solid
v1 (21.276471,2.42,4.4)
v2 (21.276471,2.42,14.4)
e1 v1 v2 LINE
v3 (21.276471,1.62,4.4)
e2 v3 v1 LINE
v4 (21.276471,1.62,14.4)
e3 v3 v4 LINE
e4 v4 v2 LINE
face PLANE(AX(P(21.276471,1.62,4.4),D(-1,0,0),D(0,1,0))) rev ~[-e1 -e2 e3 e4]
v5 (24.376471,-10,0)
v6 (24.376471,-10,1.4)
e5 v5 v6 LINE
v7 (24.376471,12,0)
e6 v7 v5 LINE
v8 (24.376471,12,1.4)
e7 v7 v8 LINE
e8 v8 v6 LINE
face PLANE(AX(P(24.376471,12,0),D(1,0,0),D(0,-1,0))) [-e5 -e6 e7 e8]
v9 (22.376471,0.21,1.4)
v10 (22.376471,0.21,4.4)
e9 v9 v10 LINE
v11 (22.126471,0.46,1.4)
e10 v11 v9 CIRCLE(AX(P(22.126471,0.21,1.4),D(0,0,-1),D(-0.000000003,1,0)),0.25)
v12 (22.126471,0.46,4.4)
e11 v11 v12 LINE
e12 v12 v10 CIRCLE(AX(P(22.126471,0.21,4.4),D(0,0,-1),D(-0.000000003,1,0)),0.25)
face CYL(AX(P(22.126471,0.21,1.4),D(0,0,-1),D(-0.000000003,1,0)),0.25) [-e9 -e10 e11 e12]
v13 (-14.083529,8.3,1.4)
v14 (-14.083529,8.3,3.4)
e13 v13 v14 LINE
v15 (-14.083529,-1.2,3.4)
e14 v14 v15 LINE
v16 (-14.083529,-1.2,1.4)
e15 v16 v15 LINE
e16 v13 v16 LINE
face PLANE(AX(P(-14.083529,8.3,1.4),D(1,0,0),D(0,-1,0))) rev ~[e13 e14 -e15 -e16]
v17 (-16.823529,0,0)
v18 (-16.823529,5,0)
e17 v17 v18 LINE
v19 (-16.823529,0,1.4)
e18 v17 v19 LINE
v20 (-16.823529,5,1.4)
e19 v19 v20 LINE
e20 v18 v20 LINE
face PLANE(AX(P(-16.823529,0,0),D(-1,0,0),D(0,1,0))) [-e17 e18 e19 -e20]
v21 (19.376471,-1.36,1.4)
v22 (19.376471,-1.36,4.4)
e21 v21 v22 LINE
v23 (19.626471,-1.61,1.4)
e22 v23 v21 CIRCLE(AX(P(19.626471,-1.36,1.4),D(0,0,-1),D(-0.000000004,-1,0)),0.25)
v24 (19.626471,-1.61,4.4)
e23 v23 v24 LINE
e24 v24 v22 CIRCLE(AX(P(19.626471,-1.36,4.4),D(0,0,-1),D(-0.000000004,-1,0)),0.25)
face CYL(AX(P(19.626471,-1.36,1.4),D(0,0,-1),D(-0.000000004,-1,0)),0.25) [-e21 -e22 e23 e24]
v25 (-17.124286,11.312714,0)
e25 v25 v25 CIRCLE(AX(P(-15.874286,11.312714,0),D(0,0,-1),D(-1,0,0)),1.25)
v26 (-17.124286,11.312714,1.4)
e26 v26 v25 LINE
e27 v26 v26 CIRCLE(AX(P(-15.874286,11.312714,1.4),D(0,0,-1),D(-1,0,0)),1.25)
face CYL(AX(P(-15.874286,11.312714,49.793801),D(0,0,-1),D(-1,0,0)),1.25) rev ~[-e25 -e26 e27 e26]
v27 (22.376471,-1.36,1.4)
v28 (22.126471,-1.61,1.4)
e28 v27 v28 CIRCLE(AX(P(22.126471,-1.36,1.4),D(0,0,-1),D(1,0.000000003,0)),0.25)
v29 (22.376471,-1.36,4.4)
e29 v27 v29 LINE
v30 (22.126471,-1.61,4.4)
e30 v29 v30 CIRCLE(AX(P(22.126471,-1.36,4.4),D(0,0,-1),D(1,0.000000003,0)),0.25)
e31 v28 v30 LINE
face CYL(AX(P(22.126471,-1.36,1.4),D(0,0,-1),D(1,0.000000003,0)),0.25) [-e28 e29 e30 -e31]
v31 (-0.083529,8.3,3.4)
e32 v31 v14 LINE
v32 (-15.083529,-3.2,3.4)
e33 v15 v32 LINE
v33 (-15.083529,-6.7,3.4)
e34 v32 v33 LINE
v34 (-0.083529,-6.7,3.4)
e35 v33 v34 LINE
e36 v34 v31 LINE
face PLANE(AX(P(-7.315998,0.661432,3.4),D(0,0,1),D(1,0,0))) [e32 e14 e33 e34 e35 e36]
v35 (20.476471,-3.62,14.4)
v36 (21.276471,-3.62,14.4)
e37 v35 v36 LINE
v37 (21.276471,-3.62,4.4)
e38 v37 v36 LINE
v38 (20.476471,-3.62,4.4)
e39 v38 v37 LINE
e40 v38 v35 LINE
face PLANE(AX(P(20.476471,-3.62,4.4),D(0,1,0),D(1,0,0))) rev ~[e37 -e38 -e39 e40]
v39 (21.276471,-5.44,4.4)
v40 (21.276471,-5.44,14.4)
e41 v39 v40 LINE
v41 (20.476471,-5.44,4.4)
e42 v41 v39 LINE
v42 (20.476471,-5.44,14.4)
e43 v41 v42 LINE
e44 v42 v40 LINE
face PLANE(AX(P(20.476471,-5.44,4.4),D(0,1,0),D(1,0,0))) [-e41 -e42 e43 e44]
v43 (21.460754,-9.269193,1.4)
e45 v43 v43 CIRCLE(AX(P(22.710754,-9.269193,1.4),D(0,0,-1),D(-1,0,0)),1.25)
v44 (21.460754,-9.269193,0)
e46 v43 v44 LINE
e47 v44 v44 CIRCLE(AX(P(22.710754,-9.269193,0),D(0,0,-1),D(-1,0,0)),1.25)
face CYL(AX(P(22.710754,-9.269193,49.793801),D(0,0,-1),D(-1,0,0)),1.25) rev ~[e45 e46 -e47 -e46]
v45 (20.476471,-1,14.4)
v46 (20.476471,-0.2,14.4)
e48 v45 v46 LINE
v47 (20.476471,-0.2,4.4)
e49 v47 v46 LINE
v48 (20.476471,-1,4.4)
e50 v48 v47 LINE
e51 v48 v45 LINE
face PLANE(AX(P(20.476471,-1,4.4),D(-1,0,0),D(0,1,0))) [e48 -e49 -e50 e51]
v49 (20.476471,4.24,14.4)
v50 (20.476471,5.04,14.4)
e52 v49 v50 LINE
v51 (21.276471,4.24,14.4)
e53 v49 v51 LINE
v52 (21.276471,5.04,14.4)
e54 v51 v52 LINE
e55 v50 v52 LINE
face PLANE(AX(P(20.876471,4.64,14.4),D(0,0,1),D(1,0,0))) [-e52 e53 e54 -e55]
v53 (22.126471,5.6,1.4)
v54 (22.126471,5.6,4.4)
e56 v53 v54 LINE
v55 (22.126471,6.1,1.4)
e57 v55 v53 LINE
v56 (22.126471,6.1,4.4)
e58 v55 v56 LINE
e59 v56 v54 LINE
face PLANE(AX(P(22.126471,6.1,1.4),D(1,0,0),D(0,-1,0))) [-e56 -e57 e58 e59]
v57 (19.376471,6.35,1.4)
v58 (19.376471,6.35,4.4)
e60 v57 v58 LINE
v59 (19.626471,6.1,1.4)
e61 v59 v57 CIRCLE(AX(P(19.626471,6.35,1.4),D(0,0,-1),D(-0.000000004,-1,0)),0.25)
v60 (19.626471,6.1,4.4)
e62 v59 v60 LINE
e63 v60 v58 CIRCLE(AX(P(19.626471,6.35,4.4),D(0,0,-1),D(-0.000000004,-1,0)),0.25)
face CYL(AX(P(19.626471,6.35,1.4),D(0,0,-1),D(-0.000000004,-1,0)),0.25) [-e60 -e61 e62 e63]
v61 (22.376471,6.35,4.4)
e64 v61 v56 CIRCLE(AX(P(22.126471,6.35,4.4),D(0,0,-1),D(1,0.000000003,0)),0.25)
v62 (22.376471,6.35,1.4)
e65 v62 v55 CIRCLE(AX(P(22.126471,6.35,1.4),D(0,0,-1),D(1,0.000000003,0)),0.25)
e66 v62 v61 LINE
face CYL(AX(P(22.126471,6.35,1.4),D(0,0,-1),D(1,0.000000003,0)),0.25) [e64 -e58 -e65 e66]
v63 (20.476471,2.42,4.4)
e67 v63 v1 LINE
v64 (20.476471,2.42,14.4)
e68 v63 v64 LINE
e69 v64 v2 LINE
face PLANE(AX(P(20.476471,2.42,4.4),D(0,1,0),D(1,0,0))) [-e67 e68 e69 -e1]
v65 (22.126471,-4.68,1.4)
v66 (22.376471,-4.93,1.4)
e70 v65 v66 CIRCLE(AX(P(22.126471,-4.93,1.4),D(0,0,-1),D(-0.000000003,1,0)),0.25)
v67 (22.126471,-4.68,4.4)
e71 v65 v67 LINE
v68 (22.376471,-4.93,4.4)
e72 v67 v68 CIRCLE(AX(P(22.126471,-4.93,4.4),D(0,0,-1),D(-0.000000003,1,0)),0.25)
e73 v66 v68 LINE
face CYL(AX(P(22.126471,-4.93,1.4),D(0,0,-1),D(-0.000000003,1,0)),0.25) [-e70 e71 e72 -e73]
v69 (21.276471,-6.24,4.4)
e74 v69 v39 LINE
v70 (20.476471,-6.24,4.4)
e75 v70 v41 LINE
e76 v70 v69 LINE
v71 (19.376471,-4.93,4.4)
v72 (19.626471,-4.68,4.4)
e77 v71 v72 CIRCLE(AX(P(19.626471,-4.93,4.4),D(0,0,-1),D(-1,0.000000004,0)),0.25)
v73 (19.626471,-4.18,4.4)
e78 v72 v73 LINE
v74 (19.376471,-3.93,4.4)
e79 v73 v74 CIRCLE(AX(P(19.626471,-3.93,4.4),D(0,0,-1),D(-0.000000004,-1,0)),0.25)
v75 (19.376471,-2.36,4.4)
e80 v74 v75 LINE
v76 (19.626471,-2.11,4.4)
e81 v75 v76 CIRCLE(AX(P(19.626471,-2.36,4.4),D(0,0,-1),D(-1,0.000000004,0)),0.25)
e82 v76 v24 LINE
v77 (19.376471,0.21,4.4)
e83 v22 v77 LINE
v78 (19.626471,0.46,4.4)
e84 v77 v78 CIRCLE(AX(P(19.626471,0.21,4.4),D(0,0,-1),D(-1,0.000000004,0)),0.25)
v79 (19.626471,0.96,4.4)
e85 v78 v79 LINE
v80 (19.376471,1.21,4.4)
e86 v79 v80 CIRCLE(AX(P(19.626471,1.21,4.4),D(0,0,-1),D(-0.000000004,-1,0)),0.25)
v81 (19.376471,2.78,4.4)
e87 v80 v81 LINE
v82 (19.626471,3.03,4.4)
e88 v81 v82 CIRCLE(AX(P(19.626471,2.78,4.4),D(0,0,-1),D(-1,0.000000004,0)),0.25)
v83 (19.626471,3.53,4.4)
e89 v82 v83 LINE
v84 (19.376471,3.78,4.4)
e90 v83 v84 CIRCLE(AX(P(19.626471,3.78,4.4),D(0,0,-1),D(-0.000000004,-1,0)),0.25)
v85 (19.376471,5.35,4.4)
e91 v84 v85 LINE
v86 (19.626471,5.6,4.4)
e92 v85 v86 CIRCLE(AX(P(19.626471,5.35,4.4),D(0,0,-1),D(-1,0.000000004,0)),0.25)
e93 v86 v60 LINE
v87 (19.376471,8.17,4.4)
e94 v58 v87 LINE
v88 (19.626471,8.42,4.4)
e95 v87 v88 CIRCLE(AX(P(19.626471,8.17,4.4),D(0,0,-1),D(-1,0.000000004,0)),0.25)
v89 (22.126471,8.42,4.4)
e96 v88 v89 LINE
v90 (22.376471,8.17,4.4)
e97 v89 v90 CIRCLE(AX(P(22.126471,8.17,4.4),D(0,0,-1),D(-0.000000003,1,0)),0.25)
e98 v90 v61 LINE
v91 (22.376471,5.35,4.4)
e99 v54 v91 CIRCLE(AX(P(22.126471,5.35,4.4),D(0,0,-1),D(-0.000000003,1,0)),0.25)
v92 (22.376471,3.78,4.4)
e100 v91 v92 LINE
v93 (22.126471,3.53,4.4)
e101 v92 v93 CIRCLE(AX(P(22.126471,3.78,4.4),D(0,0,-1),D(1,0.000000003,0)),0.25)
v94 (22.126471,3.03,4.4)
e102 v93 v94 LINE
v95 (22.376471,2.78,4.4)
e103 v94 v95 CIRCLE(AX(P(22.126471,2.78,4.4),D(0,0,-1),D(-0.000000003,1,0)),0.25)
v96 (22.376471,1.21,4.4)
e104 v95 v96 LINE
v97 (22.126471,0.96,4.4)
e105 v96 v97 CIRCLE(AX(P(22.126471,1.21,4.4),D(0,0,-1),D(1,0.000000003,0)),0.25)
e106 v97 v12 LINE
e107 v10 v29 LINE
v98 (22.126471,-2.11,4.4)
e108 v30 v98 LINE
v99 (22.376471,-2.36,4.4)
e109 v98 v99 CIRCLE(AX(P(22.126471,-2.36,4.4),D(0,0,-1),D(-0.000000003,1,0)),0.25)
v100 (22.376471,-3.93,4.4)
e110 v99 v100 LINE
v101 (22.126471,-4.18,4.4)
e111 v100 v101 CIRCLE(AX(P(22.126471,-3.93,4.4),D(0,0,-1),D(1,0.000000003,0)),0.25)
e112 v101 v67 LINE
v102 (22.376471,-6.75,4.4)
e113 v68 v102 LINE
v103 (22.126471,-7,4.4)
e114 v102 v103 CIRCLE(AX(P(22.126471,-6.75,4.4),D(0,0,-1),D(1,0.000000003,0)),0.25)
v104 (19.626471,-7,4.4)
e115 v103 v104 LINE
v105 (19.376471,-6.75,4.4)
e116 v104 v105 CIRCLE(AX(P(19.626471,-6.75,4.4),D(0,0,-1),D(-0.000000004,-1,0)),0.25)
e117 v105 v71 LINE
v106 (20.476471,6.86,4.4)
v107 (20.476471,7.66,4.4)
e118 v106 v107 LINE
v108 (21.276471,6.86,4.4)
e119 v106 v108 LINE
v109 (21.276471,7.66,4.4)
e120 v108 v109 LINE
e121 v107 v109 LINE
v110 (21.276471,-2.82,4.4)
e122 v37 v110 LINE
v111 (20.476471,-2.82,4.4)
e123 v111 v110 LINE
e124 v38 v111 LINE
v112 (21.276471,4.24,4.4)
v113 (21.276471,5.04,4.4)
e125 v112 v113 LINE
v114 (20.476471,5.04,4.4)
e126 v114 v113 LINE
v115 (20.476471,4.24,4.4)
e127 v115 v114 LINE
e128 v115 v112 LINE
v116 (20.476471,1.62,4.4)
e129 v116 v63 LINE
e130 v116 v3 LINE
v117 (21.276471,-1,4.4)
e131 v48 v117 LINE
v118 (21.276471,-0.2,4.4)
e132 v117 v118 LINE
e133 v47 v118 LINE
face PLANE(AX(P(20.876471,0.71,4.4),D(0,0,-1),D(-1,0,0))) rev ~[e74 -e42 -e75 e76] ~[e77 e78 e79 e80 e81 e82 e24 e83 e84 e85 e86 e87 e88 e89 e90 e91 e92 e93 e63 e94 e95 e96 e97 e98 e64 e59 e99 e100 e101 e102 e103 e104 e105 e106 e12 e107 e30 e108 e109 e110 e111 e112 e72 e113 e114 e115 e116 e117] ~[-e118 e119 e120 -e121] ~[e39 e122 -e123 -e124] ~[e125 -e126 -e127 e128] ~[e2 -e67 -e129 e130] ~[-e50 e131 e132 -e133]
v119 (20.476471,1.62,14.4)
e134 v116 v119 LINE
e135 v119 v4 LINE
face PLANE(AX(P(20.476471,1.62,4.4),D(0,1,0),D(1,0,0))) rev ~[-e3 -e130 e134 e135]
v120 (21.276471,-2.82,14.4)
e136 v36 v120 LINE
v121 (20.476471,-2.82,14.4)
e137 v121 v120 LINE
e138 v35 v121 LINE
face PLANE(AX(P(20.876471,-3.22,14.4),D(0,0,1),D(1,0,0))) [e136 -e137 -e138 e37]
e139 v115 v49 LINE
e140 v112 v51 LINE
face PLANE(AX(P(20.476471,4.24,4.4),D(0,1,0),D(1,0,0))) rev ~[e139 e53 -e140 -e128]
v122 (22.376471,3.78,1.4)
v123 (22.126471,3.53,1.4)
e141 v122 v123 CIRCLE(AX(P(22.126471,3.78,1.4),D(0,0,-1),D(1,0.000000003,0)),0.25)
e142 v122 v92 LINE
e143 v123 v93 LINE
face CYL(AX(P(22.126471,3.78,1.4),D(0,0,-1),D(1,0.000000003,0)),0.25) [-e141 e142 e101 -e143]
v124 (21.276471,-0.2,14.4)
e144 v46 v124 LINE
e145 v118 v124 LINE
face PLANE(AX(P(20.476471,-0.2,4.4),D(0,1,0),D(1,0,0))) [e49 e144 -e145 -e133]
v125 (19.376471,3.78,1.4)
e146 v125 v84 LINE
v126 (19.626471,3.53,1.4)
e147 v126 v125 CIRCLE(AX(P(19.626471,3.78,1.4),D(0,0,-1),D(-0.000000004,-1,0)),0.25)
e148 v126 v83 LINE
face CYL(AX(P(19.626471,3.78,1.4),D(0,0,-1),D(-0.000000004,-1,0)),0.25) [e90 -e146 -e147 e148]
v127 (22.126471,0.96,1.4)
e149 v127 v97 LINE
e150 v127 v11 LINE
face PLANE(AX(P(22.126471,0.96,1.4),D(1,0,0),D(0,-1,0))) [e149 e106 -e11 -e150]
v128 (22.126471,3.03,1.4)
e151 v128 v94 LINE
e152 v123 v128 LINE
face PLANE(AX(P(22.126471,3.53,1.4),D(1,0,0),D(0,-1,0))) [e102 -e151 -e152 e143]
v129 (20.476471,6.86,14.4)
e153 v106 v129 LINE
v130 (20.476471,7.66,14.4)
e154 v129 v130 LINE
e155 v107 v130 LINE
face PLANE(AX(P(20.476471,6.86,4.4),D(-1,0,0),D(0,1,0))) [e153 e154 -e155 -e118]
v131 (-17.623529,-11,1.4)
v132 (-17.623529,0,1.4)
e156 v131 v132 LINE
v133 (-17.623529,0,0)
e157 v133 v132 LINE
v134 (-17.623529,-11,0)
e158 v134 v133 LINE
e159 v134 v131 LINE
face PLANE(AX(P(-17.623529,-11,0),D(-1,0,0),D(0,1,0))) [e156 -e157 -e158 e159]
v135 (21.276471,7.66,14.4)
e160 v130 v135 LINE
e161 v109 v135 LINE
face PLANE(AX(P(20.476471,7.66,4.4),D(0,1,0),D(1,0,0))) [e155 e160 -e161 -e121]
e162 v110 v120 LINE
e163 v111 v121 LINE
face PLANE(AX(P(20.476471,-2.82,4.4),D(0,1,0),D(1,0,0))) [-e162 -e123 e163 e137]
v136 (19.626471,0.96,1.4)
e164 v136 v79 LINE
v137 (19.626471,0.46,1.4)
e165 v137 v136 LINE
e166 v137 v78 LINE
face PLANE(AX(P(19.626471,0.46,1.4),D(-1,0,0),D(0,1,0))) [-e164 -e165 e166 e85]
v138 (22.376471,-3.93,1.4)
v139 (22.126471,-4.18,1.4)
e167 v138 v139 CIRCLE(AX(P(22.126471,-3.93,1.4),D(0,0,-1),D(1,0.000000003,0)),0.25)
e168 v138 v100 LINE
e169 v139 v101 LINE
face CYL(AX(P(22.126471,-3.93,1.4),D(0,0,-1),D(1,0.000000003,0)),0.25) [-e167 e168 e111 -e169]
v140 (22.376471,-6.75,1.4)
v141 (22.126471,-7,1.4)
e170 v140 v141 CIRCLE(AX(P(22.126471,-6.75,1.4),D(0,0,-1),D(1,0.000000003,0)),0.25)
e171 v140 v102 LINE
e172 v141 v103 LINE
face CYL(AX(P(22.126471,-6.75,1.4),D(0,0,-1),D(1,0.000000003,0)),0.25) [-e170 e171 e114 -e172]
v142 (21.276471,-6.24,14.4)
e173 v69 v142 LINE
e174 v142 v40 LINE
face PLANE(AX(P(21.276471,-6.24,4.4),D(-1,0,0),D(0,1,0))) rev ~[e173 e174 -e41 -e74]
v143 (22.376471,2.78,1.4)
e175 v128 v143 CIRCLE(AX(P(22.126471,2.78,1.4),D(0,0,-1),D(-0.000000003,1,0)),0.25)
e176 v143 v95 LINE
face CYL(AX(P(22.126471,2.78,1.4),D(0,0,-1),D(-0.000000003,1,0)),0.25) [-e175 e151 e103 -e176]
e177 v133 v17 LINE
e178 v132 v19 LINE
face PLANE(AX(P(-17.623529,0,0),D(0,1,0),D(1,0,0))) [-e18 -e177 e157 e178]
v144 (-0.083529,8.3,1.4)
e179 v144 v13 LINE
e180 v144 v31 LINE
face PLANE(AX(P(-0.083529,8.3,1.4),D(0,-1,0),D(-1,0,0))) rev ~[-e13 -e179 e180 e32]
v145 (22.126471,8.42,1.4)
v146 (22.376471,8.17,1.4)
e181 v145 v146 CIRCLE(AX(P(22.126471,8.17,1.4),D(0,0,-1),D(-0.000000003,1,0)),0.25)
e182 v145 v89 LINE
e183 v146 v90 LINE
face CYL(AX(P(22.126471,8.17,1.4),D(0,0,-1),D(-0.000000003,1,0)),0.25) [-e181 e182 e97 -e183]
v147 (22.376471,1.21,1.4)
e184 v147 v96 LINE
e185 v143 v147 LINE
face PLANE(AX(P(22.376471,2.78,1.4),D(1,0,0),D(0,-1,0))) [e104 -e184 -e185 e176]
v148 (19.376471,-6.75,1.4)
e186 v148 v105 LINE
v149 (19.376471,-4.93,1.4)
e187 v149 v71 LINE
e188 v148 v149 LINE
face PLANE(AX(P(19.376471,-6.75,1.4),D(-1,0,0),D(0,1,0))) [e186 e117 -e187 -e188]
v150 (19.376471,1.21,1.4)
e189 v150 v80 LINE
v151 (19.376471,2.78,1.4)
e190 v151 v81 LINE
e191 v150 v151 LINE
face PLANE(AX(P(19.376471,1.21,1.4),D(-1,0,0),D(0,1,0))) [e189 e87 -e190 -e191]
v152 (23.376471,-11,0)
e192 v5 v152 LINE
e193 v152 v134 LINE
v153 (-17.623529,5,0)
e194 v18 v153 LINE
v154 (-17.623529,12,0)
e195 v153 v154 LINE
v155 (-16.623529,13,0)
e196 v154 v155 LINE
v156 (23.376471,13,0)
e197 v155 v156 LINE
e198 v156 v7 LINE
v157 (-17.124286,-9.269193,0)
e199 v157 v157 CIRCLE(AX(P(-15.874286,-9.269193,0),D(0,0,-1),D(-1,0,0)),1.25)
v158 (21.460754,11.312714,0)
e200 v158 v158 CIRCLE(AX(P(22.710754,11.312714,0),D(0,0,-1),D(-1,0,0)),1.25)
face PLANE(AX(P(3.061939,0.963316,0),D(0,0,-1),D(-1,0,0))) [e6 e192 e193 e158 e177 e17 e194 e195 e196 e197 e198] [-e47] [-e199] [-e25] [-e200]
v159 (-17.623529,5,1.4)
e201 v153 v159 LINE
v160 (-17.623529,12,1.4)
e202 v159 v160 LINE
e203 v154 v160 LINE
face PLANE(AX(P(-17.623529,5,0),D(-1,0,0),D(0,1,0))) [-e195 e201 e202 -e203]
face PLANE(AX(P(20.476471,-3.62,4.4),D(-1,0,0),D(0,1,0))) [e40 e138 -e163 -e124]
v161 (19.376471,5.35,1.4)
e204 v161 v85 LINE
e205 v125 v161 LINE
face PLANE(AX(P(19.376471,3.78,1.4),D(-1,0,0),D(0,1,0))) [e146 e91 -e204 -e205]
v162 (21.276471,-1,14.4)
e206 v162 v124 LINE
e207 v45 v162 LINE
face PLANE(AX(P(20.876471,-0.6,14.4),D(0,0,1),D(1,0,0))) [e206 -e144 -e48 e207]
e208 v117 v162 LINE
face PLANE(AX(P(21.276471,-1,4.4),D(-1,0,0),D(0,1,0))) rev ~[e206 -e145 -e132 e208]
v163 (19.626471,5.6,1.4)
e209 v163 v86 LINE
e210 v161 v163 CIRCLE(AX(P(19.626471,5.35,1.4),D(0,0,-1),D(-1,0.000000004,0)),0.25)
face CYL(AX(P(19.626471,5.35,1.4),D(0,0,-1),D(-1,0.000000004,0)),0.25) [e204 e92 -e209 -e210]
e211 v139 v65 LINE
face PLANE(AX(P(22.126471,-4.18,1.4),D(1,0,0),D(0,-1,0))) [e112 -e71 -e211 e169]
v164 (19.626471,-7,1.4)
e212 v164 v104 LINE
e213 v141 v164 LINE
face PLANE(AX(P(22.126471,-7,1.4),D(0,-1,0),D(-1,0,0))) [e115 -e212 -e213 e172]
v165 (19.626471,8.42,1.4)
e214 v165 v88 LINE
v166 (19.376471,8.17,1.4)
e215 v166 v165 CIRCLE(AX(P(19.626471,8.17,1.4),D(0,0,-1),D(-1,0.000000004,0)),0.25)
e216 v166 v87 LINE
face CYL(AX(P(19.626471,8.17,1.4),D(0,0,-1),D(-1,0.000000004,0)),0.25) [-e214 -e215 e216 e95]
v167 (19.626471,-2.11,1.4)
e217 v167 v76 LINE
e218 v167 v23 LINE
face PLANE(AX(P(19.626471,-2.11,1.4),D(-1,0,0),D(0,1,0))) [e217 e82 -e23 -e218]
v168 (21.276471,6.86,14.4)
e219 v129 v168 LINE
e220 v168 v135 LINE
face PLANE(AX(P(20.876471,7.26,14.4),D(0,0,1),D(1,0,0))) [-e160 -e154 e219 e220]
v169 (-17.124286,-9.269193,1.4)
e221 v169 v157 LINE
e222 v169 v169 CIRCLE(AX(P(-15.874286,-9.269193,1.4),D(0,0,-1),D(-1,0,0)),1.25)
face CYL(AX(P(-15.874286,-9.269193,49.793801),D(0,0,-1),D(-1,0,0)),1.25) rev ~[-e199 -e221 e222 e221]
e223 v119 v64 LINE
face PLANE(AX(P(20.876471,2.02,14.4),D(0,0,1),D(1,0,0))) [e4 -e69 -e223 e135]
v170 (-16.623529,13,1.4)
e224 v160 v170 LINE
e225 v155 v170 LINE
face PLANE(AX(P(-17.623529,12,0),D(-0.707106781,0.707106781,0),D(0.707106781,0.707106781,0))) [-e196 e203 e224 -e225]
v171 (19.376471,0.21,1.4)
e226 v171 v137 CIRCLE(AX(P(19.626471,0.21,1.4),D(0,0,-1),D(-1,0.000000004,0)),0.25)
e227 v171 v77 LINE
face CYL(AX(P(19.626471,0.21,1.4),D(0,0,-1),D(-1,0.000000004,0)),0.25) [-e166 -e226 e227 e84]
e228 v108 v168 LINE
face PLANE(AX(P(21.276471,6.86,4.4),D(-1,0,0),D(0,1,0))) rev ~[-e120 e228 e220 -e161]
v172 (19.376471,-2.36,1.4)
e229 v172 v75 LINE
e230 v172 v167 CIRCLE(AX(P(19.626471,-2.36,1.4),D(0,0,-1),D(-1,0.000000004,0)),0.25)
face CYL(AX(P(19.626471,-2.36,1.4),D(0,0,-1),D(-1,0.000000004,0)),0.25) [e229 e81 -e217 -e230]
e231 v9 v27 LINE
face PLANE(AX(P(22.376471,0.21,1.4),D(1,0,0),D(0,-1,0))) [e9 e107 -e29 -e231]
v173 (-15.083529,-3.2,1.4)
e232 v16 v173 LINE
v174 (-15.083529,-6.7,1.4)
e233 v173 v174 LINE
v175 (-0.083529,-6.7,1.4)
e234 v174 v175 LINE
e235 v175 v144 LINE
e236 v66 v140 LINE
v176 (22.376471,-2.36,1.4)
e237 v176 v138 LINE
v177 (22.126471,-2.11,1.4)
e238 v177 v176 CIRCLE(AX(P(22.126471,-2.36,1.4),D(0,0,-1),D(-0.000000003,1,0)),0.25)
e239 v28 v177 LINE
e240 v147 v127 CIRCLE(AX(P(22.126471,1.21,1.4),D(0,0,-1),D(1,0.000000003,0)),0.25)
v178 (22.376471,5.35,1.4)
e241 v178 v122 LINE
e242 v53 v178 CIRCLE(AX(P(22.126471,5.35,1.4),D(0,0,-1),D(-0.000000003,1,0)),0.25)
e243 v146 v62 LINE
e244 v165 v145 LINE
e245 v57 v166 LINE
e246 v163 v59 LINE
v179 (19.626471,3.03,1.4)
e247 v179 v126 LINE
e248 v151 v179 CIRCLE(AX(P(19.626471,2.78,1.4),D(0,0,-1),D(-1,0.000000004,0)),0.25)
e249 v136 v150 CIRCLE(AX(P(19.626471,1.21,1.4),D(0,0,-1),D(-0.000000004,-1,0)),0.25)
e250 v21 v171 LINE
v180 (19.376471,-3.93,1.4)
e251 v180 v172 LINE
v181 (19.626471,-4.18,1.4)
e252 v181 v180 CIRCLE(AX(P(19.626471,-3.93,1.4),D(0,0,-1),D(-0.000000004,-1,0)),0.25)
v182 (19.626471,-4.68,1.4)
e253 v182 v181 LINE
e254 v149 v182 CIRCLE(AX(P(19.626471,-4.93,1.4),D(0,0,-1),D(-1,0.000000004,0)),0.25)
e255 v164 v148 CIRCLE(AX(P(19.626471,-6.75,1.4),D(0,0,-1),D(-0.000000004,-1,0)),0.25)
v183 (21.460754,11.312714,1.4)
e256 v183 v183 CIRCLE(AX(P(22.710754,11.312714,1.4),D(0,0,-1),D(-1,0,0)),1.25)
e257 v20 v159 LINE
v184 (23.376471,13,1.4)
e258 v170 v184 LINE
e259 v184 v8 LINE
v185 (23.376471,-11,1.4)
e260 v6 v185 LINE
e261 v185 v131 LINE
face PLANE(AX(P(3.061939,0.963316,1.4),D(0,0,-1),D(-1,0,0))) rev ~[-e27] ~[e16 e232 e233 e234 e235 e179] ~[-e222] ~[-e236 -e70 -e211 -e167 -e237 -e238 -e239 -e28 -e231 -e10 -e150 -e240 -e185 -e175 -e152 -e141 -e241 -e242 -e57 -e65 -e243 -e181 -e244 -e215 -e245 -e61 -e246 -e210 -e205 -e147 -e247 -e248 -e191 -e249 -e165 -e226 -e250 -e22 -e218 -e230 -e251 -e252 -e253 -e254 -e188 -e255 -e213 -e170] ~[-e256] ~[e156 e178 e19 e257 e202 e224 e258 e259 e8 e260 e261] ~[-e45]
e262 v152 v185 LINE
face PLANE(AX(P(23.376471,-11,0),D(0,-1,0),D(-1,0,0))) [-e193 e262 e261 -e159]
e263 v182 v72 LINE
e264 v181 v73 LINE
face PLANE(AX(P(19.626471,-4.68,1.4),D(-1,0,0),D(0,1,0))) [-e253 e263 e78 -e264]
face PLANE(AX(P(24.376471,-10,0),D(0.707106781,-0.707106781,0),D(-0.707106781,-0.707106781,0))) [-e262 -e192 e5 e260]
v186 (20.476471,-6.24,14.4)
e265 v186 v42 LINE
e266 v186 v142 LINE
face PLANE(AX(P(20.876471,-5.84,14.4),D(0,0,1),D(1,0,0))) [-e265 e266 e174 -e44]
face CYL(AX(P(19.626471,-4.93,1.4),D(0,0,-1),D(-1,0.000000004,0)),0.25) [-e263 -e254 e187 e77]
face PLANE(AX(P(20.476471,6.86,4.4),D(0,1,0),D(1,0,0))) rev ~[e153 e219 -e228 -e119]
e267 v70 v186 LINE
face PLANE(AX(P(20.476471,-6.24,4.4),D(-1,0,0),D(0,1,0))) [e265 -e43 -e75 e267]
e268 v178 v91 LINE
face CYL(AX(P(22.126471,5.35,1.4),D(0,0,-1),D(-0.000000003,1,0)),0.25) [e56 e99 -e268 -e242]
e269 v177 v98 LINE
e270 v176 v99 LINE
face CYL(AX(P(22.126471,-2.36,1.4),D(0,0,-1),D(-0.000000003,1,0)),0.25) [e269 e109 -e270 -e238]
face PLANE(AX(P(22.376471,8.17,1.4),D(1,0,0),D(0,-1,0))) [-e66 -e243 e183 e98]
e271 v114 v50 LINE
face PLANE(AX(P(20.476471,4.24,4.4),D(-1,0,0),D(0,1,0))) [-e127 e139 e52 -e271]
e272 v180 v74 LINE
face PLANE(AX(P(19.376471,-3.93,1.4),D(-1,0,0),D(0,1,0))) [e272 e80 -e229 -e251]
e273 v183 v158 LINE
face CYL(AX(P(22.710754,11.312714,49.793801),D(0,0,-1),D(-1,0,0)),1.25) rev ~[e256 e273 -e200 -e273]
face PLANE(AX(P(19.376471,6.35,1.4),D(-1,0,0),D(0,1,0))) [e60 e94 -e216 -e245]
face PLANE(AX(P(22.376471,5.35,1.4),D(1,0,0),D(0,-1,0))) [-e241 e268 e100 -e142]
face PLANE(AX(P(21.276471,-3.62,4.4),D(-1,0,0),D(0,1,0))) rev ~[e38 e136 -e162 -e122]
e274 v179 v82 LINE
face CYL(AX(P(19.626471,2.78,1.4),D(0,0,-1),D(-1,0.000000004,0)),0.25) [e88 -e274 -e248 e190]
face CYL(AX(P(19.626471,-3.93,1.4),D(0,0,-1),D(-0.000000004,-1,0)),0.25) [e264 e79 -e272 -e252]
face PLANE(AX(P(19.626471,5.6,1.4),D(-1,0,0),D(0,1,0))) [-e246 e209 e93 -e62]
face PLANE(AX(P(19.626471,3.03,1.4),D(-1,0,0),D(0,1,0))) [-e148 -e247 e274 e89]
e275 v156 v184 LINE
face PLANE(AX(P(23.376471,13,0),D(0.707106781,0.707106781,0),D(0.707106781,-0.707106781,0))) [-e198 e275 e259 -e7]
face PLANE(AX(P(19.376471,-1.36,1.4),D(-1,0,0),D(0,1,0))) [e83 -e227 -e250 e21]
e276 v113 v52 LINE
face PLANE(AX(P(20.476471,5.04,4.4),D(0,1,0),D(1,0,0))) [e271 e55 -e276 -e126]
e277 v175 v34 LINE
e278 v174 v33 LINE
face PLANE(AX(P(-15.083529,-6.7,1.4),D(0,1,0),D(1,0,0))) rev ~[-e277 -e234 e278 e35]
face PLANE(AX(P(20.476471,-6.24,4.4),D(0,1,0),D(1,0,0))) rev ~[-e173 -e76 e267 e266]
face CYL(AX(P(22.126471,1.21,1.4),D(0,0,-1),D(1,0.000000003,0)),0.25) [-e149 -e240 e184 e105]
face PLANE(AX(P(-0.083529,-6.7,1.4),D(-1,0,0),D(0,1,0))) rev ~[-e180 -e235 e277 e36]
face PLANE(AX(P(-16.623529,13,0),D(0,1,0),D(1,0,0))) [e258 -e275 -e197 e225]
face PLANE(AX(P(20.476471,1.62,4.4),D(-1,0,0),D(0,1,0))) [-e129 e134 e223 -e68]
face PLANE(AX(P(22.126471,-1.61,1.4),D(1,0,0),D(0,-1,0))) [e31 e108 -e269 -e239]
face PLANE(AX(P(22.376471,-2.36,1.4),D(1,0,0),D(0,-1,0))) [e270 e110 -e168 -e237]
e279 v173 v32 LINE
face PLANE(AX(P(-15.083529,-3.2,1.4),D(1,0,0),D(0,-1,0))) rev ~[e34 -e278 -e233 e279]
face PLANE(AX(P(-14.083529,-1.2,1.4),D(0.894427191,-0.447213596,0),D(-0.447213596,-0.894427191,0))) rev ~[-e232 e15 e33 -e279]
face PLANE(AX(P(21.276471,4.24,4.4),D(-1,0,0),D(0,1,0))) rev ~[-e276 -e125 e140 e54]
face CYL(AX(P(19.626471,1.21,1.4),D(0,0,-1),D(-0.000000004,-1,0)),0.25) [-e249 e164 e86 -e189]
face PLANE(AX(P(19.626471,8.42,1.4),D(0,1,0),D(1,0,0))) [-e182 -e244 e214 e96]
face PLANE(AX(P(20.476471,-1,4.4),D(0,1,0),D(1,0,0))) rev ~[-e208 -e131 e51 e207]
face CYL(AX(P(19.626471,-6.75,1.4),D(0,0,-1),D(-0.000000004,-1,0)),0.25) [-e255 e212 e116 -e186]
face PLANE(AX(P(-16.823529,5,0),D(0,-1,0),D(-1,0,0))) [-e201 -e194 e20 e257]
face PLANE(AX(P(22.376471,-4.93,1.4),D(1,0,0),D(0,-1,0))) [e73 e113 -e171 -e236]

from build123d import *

# Parameters (mm, degrees)
BOSS_EXTRUDE1_DEPTH        = 1.4
F_2_5_2_5_DIAMETER_SLOT1_D = 2.5
BOSS_EXTRUDE2_DEPTH        = 2
BOSS_EXTRUDE3_DEPTH        = 3
SKETCH8_W                  = 0.8
SKETCH8_H                  = 0.8
BOSS_EXTRUDE4_DEPTH        = 10


with BuildPart() as part:
    # Sketch1 → Boss-Extrude1 (new body)
    with BuildSketch(Plane.XY):
        Polygon((-17.623529412, 12), (-16.623529412, 13), (23.376470588, 13), (24.376470588, 12), (24.376470588, -10), (23.376470588, -11), (-17.623529412, -11), (-17.623529412, 0), (-16.823529412, 0), (-16.823529412, 5), (-17.623529412, 5), align=None)
    extrude(amount=BOSS_EXTRUDE1_DEPTH)

    # Ø2.5 (2.5) Diameter Slot1 (through all)
    with Locations(Plane.XY.offset(1.4)):
        with Locations((-15.874285672, -9.269193445), (-15.874285672, 11.312714255), (22.710754066, -9.269193445), (22.710754066, 11.312714255)):
            Hole(F_2_5_2_5_DIAMETER_SLOT1_D / 2)

    # Sketch6 → Boss-Extrude2 (add)
    with BuildSketch(Plane.XY.offset(1.4)):
        Polygon((-15.083529412, -6.7), (-0.083529412, -6.7), (-0.083529412, 8.3), (-14.083529412, 8.3), (-14.083529412, -1.2), (-15.083529412, -3.2), align=None)
    extrude(amount=BOSS_EXTRUDE2_DEPTH)

    # Sketch7 → Boss-Extrude3 (add)
    with BuildSketch(Plane.XY.offset(1.4)):
        with BuildLine():
            Line((22.126470588, 6.1), (22.126470588, 5.6))
            ThreePointArc((22.126470588, 5.6), (22.303247284, 5.526776695), (22.376470588, 5.35))
            Line((22.376470588, 5.35), (22.376470588, 3.78))
            ThreePointArc((22.376470588, 3.78), (22.303247284, 3.603223305), (22.126470588, 3.53))
            Line((22.126470588, 3.53), (22.126470588, 3.03))
            ThreePointArc((22.126470588, 3.03), (22.303247284, 2.956776695), (22.376470588, 2.78))
            Line((22.376470588, 2.78), (22.376470588, 1.21))
            ThreePointArc((22.376470588, 1.21), (22.303247284, 1.033223305), (22.126470588, 0.96))
            Line((22.126470588, 0.96), (22.126470588, 0.46))
            ThreePointArc((22.126470588, 0.46), (22.303247284, 0.386776695), (22.376470588, 0.21))
            Line((22.376470588, 0.21), (22.376470588, -1.36))
            ThreePointArc((22.376470588, -1.36), (22.303247284, -1.536776695), (22.126470588, -1.61))
            Line((22.126470588, -1.61), (22.126470588, -2.11))
            ThreePointArc((22.126470588, -2.11), (22.303247284, -2.183223305), (22.376470588, -2.36))
            Line((22.376470588, -2.36), (22.376470588, -3.93))
            ThreePointArc((22.376470588, -3.93), (22.303247284, -4.106776695), (22.126470588, -4.18))
            Line((22.126470588, -4.18), (22.126470588, -4.68))
            ThreePointArc((22.126470588, -4.68), (22.303247284, -4.753223305), (22.376470588, -4.93))
            Line((22.376470588, -4.93), (22.376470588, -6.75))
            ThreePointArc((22.376470588, -6.75), (22.303247284, -6.926776695), (22.126470588, -7))
            Line((22.126470588, -7), (19.626470588, -7))
            ThreePointArc((19.626470588, -7), (19.449693893, -6.926776695), (19.376470588, -6.75))
            Line((19.376470588, -6.75), (19.376470588, -4.93))
            ThreePointArc((19.376470588, -4.93), (19.449693893, -4.753223305), (19.626470588, -4.68))
            Line((19.626470588, -4.68), (19.626470588, -4.18))
            ThreePointArc((19.626470588, -4.18), (19.449693893, -4.106776695), (19.376470588, -3.93))
            Line((19.376470588, -3.93), (19.376470588, -2.36))
            ThreePointArc((19.376470588, -2.36), (19.449693893, -2.183223305), (19.626470588, -2.11))
            Line((19.626470588, -2.11), (19.626470588, -1.61))
            ThreePointArc((19.626470588, -1.61), (19.449693893, -1.536776695), (19.376470588, -1.36))
            Line((19.376470588, -1.36), (19.376470588, 0.21))
            ThreePointArc((19.376470588, 0.21), (19.449693893, 0.386776695), (19.626470588, 0.46))
            Line((19.626470588, 0.46), (19.626470588, 0.96))
            ThreePointArc((19.626470588, 0.96), (19.449693893, 1.033223305), (19.376470588, 1.21))
            Line((19.376470588, 1.21), (19.376470588, 2.78))
            ThreePointArc((19.376470588, 2.78), (19.449693893, 2.956776695), (19.626470588, 3.03))
            Line((19.626470588, 3.03), (19.626470588, 3.53))
            ThreePointArc((19.626470588, 3.53), (19.449693893, 3.603223305), (19.376470588, 3.78))
            Line((19.376470588, 3.78), (19.376470588, 5.35))
            ThreePointArc((19.376470588, 5.35), (19.449693893, 5.526776695), (19.626470588, 5.6))
            Line((19.626470588, 5.6), (19.626470588, 6.1))
            ThreePointArc((19.626470588, 6.1), (19.449693893, 6.173223305), (19.376470588, 6.35))
            Line((19.376470588, 6.35), (19.376470588, 8.17))
            ThreePointArc((19.376470588, 8.17), (19.449693893, 8.346776695), (19.626470588, 8.42))
            Line((19.626470588, 8.42), (22.126470588, 8.42))
            ThreePointArc((22.126470588, 8.42), (22.303247284, 8.346776695), (22.376470588, 8.17))
            Line((22.376470588, 8.17), (22.376470588, 6.35))
            ThreePointArc((22.376470588, 6.35), (22.303247284, 6.173223305), (22.126470588, 6.1))
        make_face()
    extrude(amount=BOSS_EXTRUDE3_DEPTH)

    # Sketch8 → Boss-Extrude4 (add)
    with BuildSketch(Plane.XY.offset(4.4)):
        with Locations((20.876470588, -5.84)):
            Rectangle(SKETCH8_W, SKETCH8_H)
        with Locations((20.876470588, -3.22)):
            Rectangle(SKETCH8_W, SKETCH8_H)
        with Locations((20.876470588, -0.6)):
            Rectangle(SKETCH8_W, SKETCH8_H)
        with Locations((20.876470588, 2.02)):
            Rectangle(SKETCH8_W, SKETCH8_H)
        with Locations((20.876470588, 4.64)):
            Rectangle(SKETCH8_W, SKETCH8_H)
        with Locations((20.876470588, 7.26)):
            Rectangle(SKETCH8_W, SKETCH8_H)
    extrude(amount=BOSS_EXTRUDE4_DEPTH)


solid = part.part
